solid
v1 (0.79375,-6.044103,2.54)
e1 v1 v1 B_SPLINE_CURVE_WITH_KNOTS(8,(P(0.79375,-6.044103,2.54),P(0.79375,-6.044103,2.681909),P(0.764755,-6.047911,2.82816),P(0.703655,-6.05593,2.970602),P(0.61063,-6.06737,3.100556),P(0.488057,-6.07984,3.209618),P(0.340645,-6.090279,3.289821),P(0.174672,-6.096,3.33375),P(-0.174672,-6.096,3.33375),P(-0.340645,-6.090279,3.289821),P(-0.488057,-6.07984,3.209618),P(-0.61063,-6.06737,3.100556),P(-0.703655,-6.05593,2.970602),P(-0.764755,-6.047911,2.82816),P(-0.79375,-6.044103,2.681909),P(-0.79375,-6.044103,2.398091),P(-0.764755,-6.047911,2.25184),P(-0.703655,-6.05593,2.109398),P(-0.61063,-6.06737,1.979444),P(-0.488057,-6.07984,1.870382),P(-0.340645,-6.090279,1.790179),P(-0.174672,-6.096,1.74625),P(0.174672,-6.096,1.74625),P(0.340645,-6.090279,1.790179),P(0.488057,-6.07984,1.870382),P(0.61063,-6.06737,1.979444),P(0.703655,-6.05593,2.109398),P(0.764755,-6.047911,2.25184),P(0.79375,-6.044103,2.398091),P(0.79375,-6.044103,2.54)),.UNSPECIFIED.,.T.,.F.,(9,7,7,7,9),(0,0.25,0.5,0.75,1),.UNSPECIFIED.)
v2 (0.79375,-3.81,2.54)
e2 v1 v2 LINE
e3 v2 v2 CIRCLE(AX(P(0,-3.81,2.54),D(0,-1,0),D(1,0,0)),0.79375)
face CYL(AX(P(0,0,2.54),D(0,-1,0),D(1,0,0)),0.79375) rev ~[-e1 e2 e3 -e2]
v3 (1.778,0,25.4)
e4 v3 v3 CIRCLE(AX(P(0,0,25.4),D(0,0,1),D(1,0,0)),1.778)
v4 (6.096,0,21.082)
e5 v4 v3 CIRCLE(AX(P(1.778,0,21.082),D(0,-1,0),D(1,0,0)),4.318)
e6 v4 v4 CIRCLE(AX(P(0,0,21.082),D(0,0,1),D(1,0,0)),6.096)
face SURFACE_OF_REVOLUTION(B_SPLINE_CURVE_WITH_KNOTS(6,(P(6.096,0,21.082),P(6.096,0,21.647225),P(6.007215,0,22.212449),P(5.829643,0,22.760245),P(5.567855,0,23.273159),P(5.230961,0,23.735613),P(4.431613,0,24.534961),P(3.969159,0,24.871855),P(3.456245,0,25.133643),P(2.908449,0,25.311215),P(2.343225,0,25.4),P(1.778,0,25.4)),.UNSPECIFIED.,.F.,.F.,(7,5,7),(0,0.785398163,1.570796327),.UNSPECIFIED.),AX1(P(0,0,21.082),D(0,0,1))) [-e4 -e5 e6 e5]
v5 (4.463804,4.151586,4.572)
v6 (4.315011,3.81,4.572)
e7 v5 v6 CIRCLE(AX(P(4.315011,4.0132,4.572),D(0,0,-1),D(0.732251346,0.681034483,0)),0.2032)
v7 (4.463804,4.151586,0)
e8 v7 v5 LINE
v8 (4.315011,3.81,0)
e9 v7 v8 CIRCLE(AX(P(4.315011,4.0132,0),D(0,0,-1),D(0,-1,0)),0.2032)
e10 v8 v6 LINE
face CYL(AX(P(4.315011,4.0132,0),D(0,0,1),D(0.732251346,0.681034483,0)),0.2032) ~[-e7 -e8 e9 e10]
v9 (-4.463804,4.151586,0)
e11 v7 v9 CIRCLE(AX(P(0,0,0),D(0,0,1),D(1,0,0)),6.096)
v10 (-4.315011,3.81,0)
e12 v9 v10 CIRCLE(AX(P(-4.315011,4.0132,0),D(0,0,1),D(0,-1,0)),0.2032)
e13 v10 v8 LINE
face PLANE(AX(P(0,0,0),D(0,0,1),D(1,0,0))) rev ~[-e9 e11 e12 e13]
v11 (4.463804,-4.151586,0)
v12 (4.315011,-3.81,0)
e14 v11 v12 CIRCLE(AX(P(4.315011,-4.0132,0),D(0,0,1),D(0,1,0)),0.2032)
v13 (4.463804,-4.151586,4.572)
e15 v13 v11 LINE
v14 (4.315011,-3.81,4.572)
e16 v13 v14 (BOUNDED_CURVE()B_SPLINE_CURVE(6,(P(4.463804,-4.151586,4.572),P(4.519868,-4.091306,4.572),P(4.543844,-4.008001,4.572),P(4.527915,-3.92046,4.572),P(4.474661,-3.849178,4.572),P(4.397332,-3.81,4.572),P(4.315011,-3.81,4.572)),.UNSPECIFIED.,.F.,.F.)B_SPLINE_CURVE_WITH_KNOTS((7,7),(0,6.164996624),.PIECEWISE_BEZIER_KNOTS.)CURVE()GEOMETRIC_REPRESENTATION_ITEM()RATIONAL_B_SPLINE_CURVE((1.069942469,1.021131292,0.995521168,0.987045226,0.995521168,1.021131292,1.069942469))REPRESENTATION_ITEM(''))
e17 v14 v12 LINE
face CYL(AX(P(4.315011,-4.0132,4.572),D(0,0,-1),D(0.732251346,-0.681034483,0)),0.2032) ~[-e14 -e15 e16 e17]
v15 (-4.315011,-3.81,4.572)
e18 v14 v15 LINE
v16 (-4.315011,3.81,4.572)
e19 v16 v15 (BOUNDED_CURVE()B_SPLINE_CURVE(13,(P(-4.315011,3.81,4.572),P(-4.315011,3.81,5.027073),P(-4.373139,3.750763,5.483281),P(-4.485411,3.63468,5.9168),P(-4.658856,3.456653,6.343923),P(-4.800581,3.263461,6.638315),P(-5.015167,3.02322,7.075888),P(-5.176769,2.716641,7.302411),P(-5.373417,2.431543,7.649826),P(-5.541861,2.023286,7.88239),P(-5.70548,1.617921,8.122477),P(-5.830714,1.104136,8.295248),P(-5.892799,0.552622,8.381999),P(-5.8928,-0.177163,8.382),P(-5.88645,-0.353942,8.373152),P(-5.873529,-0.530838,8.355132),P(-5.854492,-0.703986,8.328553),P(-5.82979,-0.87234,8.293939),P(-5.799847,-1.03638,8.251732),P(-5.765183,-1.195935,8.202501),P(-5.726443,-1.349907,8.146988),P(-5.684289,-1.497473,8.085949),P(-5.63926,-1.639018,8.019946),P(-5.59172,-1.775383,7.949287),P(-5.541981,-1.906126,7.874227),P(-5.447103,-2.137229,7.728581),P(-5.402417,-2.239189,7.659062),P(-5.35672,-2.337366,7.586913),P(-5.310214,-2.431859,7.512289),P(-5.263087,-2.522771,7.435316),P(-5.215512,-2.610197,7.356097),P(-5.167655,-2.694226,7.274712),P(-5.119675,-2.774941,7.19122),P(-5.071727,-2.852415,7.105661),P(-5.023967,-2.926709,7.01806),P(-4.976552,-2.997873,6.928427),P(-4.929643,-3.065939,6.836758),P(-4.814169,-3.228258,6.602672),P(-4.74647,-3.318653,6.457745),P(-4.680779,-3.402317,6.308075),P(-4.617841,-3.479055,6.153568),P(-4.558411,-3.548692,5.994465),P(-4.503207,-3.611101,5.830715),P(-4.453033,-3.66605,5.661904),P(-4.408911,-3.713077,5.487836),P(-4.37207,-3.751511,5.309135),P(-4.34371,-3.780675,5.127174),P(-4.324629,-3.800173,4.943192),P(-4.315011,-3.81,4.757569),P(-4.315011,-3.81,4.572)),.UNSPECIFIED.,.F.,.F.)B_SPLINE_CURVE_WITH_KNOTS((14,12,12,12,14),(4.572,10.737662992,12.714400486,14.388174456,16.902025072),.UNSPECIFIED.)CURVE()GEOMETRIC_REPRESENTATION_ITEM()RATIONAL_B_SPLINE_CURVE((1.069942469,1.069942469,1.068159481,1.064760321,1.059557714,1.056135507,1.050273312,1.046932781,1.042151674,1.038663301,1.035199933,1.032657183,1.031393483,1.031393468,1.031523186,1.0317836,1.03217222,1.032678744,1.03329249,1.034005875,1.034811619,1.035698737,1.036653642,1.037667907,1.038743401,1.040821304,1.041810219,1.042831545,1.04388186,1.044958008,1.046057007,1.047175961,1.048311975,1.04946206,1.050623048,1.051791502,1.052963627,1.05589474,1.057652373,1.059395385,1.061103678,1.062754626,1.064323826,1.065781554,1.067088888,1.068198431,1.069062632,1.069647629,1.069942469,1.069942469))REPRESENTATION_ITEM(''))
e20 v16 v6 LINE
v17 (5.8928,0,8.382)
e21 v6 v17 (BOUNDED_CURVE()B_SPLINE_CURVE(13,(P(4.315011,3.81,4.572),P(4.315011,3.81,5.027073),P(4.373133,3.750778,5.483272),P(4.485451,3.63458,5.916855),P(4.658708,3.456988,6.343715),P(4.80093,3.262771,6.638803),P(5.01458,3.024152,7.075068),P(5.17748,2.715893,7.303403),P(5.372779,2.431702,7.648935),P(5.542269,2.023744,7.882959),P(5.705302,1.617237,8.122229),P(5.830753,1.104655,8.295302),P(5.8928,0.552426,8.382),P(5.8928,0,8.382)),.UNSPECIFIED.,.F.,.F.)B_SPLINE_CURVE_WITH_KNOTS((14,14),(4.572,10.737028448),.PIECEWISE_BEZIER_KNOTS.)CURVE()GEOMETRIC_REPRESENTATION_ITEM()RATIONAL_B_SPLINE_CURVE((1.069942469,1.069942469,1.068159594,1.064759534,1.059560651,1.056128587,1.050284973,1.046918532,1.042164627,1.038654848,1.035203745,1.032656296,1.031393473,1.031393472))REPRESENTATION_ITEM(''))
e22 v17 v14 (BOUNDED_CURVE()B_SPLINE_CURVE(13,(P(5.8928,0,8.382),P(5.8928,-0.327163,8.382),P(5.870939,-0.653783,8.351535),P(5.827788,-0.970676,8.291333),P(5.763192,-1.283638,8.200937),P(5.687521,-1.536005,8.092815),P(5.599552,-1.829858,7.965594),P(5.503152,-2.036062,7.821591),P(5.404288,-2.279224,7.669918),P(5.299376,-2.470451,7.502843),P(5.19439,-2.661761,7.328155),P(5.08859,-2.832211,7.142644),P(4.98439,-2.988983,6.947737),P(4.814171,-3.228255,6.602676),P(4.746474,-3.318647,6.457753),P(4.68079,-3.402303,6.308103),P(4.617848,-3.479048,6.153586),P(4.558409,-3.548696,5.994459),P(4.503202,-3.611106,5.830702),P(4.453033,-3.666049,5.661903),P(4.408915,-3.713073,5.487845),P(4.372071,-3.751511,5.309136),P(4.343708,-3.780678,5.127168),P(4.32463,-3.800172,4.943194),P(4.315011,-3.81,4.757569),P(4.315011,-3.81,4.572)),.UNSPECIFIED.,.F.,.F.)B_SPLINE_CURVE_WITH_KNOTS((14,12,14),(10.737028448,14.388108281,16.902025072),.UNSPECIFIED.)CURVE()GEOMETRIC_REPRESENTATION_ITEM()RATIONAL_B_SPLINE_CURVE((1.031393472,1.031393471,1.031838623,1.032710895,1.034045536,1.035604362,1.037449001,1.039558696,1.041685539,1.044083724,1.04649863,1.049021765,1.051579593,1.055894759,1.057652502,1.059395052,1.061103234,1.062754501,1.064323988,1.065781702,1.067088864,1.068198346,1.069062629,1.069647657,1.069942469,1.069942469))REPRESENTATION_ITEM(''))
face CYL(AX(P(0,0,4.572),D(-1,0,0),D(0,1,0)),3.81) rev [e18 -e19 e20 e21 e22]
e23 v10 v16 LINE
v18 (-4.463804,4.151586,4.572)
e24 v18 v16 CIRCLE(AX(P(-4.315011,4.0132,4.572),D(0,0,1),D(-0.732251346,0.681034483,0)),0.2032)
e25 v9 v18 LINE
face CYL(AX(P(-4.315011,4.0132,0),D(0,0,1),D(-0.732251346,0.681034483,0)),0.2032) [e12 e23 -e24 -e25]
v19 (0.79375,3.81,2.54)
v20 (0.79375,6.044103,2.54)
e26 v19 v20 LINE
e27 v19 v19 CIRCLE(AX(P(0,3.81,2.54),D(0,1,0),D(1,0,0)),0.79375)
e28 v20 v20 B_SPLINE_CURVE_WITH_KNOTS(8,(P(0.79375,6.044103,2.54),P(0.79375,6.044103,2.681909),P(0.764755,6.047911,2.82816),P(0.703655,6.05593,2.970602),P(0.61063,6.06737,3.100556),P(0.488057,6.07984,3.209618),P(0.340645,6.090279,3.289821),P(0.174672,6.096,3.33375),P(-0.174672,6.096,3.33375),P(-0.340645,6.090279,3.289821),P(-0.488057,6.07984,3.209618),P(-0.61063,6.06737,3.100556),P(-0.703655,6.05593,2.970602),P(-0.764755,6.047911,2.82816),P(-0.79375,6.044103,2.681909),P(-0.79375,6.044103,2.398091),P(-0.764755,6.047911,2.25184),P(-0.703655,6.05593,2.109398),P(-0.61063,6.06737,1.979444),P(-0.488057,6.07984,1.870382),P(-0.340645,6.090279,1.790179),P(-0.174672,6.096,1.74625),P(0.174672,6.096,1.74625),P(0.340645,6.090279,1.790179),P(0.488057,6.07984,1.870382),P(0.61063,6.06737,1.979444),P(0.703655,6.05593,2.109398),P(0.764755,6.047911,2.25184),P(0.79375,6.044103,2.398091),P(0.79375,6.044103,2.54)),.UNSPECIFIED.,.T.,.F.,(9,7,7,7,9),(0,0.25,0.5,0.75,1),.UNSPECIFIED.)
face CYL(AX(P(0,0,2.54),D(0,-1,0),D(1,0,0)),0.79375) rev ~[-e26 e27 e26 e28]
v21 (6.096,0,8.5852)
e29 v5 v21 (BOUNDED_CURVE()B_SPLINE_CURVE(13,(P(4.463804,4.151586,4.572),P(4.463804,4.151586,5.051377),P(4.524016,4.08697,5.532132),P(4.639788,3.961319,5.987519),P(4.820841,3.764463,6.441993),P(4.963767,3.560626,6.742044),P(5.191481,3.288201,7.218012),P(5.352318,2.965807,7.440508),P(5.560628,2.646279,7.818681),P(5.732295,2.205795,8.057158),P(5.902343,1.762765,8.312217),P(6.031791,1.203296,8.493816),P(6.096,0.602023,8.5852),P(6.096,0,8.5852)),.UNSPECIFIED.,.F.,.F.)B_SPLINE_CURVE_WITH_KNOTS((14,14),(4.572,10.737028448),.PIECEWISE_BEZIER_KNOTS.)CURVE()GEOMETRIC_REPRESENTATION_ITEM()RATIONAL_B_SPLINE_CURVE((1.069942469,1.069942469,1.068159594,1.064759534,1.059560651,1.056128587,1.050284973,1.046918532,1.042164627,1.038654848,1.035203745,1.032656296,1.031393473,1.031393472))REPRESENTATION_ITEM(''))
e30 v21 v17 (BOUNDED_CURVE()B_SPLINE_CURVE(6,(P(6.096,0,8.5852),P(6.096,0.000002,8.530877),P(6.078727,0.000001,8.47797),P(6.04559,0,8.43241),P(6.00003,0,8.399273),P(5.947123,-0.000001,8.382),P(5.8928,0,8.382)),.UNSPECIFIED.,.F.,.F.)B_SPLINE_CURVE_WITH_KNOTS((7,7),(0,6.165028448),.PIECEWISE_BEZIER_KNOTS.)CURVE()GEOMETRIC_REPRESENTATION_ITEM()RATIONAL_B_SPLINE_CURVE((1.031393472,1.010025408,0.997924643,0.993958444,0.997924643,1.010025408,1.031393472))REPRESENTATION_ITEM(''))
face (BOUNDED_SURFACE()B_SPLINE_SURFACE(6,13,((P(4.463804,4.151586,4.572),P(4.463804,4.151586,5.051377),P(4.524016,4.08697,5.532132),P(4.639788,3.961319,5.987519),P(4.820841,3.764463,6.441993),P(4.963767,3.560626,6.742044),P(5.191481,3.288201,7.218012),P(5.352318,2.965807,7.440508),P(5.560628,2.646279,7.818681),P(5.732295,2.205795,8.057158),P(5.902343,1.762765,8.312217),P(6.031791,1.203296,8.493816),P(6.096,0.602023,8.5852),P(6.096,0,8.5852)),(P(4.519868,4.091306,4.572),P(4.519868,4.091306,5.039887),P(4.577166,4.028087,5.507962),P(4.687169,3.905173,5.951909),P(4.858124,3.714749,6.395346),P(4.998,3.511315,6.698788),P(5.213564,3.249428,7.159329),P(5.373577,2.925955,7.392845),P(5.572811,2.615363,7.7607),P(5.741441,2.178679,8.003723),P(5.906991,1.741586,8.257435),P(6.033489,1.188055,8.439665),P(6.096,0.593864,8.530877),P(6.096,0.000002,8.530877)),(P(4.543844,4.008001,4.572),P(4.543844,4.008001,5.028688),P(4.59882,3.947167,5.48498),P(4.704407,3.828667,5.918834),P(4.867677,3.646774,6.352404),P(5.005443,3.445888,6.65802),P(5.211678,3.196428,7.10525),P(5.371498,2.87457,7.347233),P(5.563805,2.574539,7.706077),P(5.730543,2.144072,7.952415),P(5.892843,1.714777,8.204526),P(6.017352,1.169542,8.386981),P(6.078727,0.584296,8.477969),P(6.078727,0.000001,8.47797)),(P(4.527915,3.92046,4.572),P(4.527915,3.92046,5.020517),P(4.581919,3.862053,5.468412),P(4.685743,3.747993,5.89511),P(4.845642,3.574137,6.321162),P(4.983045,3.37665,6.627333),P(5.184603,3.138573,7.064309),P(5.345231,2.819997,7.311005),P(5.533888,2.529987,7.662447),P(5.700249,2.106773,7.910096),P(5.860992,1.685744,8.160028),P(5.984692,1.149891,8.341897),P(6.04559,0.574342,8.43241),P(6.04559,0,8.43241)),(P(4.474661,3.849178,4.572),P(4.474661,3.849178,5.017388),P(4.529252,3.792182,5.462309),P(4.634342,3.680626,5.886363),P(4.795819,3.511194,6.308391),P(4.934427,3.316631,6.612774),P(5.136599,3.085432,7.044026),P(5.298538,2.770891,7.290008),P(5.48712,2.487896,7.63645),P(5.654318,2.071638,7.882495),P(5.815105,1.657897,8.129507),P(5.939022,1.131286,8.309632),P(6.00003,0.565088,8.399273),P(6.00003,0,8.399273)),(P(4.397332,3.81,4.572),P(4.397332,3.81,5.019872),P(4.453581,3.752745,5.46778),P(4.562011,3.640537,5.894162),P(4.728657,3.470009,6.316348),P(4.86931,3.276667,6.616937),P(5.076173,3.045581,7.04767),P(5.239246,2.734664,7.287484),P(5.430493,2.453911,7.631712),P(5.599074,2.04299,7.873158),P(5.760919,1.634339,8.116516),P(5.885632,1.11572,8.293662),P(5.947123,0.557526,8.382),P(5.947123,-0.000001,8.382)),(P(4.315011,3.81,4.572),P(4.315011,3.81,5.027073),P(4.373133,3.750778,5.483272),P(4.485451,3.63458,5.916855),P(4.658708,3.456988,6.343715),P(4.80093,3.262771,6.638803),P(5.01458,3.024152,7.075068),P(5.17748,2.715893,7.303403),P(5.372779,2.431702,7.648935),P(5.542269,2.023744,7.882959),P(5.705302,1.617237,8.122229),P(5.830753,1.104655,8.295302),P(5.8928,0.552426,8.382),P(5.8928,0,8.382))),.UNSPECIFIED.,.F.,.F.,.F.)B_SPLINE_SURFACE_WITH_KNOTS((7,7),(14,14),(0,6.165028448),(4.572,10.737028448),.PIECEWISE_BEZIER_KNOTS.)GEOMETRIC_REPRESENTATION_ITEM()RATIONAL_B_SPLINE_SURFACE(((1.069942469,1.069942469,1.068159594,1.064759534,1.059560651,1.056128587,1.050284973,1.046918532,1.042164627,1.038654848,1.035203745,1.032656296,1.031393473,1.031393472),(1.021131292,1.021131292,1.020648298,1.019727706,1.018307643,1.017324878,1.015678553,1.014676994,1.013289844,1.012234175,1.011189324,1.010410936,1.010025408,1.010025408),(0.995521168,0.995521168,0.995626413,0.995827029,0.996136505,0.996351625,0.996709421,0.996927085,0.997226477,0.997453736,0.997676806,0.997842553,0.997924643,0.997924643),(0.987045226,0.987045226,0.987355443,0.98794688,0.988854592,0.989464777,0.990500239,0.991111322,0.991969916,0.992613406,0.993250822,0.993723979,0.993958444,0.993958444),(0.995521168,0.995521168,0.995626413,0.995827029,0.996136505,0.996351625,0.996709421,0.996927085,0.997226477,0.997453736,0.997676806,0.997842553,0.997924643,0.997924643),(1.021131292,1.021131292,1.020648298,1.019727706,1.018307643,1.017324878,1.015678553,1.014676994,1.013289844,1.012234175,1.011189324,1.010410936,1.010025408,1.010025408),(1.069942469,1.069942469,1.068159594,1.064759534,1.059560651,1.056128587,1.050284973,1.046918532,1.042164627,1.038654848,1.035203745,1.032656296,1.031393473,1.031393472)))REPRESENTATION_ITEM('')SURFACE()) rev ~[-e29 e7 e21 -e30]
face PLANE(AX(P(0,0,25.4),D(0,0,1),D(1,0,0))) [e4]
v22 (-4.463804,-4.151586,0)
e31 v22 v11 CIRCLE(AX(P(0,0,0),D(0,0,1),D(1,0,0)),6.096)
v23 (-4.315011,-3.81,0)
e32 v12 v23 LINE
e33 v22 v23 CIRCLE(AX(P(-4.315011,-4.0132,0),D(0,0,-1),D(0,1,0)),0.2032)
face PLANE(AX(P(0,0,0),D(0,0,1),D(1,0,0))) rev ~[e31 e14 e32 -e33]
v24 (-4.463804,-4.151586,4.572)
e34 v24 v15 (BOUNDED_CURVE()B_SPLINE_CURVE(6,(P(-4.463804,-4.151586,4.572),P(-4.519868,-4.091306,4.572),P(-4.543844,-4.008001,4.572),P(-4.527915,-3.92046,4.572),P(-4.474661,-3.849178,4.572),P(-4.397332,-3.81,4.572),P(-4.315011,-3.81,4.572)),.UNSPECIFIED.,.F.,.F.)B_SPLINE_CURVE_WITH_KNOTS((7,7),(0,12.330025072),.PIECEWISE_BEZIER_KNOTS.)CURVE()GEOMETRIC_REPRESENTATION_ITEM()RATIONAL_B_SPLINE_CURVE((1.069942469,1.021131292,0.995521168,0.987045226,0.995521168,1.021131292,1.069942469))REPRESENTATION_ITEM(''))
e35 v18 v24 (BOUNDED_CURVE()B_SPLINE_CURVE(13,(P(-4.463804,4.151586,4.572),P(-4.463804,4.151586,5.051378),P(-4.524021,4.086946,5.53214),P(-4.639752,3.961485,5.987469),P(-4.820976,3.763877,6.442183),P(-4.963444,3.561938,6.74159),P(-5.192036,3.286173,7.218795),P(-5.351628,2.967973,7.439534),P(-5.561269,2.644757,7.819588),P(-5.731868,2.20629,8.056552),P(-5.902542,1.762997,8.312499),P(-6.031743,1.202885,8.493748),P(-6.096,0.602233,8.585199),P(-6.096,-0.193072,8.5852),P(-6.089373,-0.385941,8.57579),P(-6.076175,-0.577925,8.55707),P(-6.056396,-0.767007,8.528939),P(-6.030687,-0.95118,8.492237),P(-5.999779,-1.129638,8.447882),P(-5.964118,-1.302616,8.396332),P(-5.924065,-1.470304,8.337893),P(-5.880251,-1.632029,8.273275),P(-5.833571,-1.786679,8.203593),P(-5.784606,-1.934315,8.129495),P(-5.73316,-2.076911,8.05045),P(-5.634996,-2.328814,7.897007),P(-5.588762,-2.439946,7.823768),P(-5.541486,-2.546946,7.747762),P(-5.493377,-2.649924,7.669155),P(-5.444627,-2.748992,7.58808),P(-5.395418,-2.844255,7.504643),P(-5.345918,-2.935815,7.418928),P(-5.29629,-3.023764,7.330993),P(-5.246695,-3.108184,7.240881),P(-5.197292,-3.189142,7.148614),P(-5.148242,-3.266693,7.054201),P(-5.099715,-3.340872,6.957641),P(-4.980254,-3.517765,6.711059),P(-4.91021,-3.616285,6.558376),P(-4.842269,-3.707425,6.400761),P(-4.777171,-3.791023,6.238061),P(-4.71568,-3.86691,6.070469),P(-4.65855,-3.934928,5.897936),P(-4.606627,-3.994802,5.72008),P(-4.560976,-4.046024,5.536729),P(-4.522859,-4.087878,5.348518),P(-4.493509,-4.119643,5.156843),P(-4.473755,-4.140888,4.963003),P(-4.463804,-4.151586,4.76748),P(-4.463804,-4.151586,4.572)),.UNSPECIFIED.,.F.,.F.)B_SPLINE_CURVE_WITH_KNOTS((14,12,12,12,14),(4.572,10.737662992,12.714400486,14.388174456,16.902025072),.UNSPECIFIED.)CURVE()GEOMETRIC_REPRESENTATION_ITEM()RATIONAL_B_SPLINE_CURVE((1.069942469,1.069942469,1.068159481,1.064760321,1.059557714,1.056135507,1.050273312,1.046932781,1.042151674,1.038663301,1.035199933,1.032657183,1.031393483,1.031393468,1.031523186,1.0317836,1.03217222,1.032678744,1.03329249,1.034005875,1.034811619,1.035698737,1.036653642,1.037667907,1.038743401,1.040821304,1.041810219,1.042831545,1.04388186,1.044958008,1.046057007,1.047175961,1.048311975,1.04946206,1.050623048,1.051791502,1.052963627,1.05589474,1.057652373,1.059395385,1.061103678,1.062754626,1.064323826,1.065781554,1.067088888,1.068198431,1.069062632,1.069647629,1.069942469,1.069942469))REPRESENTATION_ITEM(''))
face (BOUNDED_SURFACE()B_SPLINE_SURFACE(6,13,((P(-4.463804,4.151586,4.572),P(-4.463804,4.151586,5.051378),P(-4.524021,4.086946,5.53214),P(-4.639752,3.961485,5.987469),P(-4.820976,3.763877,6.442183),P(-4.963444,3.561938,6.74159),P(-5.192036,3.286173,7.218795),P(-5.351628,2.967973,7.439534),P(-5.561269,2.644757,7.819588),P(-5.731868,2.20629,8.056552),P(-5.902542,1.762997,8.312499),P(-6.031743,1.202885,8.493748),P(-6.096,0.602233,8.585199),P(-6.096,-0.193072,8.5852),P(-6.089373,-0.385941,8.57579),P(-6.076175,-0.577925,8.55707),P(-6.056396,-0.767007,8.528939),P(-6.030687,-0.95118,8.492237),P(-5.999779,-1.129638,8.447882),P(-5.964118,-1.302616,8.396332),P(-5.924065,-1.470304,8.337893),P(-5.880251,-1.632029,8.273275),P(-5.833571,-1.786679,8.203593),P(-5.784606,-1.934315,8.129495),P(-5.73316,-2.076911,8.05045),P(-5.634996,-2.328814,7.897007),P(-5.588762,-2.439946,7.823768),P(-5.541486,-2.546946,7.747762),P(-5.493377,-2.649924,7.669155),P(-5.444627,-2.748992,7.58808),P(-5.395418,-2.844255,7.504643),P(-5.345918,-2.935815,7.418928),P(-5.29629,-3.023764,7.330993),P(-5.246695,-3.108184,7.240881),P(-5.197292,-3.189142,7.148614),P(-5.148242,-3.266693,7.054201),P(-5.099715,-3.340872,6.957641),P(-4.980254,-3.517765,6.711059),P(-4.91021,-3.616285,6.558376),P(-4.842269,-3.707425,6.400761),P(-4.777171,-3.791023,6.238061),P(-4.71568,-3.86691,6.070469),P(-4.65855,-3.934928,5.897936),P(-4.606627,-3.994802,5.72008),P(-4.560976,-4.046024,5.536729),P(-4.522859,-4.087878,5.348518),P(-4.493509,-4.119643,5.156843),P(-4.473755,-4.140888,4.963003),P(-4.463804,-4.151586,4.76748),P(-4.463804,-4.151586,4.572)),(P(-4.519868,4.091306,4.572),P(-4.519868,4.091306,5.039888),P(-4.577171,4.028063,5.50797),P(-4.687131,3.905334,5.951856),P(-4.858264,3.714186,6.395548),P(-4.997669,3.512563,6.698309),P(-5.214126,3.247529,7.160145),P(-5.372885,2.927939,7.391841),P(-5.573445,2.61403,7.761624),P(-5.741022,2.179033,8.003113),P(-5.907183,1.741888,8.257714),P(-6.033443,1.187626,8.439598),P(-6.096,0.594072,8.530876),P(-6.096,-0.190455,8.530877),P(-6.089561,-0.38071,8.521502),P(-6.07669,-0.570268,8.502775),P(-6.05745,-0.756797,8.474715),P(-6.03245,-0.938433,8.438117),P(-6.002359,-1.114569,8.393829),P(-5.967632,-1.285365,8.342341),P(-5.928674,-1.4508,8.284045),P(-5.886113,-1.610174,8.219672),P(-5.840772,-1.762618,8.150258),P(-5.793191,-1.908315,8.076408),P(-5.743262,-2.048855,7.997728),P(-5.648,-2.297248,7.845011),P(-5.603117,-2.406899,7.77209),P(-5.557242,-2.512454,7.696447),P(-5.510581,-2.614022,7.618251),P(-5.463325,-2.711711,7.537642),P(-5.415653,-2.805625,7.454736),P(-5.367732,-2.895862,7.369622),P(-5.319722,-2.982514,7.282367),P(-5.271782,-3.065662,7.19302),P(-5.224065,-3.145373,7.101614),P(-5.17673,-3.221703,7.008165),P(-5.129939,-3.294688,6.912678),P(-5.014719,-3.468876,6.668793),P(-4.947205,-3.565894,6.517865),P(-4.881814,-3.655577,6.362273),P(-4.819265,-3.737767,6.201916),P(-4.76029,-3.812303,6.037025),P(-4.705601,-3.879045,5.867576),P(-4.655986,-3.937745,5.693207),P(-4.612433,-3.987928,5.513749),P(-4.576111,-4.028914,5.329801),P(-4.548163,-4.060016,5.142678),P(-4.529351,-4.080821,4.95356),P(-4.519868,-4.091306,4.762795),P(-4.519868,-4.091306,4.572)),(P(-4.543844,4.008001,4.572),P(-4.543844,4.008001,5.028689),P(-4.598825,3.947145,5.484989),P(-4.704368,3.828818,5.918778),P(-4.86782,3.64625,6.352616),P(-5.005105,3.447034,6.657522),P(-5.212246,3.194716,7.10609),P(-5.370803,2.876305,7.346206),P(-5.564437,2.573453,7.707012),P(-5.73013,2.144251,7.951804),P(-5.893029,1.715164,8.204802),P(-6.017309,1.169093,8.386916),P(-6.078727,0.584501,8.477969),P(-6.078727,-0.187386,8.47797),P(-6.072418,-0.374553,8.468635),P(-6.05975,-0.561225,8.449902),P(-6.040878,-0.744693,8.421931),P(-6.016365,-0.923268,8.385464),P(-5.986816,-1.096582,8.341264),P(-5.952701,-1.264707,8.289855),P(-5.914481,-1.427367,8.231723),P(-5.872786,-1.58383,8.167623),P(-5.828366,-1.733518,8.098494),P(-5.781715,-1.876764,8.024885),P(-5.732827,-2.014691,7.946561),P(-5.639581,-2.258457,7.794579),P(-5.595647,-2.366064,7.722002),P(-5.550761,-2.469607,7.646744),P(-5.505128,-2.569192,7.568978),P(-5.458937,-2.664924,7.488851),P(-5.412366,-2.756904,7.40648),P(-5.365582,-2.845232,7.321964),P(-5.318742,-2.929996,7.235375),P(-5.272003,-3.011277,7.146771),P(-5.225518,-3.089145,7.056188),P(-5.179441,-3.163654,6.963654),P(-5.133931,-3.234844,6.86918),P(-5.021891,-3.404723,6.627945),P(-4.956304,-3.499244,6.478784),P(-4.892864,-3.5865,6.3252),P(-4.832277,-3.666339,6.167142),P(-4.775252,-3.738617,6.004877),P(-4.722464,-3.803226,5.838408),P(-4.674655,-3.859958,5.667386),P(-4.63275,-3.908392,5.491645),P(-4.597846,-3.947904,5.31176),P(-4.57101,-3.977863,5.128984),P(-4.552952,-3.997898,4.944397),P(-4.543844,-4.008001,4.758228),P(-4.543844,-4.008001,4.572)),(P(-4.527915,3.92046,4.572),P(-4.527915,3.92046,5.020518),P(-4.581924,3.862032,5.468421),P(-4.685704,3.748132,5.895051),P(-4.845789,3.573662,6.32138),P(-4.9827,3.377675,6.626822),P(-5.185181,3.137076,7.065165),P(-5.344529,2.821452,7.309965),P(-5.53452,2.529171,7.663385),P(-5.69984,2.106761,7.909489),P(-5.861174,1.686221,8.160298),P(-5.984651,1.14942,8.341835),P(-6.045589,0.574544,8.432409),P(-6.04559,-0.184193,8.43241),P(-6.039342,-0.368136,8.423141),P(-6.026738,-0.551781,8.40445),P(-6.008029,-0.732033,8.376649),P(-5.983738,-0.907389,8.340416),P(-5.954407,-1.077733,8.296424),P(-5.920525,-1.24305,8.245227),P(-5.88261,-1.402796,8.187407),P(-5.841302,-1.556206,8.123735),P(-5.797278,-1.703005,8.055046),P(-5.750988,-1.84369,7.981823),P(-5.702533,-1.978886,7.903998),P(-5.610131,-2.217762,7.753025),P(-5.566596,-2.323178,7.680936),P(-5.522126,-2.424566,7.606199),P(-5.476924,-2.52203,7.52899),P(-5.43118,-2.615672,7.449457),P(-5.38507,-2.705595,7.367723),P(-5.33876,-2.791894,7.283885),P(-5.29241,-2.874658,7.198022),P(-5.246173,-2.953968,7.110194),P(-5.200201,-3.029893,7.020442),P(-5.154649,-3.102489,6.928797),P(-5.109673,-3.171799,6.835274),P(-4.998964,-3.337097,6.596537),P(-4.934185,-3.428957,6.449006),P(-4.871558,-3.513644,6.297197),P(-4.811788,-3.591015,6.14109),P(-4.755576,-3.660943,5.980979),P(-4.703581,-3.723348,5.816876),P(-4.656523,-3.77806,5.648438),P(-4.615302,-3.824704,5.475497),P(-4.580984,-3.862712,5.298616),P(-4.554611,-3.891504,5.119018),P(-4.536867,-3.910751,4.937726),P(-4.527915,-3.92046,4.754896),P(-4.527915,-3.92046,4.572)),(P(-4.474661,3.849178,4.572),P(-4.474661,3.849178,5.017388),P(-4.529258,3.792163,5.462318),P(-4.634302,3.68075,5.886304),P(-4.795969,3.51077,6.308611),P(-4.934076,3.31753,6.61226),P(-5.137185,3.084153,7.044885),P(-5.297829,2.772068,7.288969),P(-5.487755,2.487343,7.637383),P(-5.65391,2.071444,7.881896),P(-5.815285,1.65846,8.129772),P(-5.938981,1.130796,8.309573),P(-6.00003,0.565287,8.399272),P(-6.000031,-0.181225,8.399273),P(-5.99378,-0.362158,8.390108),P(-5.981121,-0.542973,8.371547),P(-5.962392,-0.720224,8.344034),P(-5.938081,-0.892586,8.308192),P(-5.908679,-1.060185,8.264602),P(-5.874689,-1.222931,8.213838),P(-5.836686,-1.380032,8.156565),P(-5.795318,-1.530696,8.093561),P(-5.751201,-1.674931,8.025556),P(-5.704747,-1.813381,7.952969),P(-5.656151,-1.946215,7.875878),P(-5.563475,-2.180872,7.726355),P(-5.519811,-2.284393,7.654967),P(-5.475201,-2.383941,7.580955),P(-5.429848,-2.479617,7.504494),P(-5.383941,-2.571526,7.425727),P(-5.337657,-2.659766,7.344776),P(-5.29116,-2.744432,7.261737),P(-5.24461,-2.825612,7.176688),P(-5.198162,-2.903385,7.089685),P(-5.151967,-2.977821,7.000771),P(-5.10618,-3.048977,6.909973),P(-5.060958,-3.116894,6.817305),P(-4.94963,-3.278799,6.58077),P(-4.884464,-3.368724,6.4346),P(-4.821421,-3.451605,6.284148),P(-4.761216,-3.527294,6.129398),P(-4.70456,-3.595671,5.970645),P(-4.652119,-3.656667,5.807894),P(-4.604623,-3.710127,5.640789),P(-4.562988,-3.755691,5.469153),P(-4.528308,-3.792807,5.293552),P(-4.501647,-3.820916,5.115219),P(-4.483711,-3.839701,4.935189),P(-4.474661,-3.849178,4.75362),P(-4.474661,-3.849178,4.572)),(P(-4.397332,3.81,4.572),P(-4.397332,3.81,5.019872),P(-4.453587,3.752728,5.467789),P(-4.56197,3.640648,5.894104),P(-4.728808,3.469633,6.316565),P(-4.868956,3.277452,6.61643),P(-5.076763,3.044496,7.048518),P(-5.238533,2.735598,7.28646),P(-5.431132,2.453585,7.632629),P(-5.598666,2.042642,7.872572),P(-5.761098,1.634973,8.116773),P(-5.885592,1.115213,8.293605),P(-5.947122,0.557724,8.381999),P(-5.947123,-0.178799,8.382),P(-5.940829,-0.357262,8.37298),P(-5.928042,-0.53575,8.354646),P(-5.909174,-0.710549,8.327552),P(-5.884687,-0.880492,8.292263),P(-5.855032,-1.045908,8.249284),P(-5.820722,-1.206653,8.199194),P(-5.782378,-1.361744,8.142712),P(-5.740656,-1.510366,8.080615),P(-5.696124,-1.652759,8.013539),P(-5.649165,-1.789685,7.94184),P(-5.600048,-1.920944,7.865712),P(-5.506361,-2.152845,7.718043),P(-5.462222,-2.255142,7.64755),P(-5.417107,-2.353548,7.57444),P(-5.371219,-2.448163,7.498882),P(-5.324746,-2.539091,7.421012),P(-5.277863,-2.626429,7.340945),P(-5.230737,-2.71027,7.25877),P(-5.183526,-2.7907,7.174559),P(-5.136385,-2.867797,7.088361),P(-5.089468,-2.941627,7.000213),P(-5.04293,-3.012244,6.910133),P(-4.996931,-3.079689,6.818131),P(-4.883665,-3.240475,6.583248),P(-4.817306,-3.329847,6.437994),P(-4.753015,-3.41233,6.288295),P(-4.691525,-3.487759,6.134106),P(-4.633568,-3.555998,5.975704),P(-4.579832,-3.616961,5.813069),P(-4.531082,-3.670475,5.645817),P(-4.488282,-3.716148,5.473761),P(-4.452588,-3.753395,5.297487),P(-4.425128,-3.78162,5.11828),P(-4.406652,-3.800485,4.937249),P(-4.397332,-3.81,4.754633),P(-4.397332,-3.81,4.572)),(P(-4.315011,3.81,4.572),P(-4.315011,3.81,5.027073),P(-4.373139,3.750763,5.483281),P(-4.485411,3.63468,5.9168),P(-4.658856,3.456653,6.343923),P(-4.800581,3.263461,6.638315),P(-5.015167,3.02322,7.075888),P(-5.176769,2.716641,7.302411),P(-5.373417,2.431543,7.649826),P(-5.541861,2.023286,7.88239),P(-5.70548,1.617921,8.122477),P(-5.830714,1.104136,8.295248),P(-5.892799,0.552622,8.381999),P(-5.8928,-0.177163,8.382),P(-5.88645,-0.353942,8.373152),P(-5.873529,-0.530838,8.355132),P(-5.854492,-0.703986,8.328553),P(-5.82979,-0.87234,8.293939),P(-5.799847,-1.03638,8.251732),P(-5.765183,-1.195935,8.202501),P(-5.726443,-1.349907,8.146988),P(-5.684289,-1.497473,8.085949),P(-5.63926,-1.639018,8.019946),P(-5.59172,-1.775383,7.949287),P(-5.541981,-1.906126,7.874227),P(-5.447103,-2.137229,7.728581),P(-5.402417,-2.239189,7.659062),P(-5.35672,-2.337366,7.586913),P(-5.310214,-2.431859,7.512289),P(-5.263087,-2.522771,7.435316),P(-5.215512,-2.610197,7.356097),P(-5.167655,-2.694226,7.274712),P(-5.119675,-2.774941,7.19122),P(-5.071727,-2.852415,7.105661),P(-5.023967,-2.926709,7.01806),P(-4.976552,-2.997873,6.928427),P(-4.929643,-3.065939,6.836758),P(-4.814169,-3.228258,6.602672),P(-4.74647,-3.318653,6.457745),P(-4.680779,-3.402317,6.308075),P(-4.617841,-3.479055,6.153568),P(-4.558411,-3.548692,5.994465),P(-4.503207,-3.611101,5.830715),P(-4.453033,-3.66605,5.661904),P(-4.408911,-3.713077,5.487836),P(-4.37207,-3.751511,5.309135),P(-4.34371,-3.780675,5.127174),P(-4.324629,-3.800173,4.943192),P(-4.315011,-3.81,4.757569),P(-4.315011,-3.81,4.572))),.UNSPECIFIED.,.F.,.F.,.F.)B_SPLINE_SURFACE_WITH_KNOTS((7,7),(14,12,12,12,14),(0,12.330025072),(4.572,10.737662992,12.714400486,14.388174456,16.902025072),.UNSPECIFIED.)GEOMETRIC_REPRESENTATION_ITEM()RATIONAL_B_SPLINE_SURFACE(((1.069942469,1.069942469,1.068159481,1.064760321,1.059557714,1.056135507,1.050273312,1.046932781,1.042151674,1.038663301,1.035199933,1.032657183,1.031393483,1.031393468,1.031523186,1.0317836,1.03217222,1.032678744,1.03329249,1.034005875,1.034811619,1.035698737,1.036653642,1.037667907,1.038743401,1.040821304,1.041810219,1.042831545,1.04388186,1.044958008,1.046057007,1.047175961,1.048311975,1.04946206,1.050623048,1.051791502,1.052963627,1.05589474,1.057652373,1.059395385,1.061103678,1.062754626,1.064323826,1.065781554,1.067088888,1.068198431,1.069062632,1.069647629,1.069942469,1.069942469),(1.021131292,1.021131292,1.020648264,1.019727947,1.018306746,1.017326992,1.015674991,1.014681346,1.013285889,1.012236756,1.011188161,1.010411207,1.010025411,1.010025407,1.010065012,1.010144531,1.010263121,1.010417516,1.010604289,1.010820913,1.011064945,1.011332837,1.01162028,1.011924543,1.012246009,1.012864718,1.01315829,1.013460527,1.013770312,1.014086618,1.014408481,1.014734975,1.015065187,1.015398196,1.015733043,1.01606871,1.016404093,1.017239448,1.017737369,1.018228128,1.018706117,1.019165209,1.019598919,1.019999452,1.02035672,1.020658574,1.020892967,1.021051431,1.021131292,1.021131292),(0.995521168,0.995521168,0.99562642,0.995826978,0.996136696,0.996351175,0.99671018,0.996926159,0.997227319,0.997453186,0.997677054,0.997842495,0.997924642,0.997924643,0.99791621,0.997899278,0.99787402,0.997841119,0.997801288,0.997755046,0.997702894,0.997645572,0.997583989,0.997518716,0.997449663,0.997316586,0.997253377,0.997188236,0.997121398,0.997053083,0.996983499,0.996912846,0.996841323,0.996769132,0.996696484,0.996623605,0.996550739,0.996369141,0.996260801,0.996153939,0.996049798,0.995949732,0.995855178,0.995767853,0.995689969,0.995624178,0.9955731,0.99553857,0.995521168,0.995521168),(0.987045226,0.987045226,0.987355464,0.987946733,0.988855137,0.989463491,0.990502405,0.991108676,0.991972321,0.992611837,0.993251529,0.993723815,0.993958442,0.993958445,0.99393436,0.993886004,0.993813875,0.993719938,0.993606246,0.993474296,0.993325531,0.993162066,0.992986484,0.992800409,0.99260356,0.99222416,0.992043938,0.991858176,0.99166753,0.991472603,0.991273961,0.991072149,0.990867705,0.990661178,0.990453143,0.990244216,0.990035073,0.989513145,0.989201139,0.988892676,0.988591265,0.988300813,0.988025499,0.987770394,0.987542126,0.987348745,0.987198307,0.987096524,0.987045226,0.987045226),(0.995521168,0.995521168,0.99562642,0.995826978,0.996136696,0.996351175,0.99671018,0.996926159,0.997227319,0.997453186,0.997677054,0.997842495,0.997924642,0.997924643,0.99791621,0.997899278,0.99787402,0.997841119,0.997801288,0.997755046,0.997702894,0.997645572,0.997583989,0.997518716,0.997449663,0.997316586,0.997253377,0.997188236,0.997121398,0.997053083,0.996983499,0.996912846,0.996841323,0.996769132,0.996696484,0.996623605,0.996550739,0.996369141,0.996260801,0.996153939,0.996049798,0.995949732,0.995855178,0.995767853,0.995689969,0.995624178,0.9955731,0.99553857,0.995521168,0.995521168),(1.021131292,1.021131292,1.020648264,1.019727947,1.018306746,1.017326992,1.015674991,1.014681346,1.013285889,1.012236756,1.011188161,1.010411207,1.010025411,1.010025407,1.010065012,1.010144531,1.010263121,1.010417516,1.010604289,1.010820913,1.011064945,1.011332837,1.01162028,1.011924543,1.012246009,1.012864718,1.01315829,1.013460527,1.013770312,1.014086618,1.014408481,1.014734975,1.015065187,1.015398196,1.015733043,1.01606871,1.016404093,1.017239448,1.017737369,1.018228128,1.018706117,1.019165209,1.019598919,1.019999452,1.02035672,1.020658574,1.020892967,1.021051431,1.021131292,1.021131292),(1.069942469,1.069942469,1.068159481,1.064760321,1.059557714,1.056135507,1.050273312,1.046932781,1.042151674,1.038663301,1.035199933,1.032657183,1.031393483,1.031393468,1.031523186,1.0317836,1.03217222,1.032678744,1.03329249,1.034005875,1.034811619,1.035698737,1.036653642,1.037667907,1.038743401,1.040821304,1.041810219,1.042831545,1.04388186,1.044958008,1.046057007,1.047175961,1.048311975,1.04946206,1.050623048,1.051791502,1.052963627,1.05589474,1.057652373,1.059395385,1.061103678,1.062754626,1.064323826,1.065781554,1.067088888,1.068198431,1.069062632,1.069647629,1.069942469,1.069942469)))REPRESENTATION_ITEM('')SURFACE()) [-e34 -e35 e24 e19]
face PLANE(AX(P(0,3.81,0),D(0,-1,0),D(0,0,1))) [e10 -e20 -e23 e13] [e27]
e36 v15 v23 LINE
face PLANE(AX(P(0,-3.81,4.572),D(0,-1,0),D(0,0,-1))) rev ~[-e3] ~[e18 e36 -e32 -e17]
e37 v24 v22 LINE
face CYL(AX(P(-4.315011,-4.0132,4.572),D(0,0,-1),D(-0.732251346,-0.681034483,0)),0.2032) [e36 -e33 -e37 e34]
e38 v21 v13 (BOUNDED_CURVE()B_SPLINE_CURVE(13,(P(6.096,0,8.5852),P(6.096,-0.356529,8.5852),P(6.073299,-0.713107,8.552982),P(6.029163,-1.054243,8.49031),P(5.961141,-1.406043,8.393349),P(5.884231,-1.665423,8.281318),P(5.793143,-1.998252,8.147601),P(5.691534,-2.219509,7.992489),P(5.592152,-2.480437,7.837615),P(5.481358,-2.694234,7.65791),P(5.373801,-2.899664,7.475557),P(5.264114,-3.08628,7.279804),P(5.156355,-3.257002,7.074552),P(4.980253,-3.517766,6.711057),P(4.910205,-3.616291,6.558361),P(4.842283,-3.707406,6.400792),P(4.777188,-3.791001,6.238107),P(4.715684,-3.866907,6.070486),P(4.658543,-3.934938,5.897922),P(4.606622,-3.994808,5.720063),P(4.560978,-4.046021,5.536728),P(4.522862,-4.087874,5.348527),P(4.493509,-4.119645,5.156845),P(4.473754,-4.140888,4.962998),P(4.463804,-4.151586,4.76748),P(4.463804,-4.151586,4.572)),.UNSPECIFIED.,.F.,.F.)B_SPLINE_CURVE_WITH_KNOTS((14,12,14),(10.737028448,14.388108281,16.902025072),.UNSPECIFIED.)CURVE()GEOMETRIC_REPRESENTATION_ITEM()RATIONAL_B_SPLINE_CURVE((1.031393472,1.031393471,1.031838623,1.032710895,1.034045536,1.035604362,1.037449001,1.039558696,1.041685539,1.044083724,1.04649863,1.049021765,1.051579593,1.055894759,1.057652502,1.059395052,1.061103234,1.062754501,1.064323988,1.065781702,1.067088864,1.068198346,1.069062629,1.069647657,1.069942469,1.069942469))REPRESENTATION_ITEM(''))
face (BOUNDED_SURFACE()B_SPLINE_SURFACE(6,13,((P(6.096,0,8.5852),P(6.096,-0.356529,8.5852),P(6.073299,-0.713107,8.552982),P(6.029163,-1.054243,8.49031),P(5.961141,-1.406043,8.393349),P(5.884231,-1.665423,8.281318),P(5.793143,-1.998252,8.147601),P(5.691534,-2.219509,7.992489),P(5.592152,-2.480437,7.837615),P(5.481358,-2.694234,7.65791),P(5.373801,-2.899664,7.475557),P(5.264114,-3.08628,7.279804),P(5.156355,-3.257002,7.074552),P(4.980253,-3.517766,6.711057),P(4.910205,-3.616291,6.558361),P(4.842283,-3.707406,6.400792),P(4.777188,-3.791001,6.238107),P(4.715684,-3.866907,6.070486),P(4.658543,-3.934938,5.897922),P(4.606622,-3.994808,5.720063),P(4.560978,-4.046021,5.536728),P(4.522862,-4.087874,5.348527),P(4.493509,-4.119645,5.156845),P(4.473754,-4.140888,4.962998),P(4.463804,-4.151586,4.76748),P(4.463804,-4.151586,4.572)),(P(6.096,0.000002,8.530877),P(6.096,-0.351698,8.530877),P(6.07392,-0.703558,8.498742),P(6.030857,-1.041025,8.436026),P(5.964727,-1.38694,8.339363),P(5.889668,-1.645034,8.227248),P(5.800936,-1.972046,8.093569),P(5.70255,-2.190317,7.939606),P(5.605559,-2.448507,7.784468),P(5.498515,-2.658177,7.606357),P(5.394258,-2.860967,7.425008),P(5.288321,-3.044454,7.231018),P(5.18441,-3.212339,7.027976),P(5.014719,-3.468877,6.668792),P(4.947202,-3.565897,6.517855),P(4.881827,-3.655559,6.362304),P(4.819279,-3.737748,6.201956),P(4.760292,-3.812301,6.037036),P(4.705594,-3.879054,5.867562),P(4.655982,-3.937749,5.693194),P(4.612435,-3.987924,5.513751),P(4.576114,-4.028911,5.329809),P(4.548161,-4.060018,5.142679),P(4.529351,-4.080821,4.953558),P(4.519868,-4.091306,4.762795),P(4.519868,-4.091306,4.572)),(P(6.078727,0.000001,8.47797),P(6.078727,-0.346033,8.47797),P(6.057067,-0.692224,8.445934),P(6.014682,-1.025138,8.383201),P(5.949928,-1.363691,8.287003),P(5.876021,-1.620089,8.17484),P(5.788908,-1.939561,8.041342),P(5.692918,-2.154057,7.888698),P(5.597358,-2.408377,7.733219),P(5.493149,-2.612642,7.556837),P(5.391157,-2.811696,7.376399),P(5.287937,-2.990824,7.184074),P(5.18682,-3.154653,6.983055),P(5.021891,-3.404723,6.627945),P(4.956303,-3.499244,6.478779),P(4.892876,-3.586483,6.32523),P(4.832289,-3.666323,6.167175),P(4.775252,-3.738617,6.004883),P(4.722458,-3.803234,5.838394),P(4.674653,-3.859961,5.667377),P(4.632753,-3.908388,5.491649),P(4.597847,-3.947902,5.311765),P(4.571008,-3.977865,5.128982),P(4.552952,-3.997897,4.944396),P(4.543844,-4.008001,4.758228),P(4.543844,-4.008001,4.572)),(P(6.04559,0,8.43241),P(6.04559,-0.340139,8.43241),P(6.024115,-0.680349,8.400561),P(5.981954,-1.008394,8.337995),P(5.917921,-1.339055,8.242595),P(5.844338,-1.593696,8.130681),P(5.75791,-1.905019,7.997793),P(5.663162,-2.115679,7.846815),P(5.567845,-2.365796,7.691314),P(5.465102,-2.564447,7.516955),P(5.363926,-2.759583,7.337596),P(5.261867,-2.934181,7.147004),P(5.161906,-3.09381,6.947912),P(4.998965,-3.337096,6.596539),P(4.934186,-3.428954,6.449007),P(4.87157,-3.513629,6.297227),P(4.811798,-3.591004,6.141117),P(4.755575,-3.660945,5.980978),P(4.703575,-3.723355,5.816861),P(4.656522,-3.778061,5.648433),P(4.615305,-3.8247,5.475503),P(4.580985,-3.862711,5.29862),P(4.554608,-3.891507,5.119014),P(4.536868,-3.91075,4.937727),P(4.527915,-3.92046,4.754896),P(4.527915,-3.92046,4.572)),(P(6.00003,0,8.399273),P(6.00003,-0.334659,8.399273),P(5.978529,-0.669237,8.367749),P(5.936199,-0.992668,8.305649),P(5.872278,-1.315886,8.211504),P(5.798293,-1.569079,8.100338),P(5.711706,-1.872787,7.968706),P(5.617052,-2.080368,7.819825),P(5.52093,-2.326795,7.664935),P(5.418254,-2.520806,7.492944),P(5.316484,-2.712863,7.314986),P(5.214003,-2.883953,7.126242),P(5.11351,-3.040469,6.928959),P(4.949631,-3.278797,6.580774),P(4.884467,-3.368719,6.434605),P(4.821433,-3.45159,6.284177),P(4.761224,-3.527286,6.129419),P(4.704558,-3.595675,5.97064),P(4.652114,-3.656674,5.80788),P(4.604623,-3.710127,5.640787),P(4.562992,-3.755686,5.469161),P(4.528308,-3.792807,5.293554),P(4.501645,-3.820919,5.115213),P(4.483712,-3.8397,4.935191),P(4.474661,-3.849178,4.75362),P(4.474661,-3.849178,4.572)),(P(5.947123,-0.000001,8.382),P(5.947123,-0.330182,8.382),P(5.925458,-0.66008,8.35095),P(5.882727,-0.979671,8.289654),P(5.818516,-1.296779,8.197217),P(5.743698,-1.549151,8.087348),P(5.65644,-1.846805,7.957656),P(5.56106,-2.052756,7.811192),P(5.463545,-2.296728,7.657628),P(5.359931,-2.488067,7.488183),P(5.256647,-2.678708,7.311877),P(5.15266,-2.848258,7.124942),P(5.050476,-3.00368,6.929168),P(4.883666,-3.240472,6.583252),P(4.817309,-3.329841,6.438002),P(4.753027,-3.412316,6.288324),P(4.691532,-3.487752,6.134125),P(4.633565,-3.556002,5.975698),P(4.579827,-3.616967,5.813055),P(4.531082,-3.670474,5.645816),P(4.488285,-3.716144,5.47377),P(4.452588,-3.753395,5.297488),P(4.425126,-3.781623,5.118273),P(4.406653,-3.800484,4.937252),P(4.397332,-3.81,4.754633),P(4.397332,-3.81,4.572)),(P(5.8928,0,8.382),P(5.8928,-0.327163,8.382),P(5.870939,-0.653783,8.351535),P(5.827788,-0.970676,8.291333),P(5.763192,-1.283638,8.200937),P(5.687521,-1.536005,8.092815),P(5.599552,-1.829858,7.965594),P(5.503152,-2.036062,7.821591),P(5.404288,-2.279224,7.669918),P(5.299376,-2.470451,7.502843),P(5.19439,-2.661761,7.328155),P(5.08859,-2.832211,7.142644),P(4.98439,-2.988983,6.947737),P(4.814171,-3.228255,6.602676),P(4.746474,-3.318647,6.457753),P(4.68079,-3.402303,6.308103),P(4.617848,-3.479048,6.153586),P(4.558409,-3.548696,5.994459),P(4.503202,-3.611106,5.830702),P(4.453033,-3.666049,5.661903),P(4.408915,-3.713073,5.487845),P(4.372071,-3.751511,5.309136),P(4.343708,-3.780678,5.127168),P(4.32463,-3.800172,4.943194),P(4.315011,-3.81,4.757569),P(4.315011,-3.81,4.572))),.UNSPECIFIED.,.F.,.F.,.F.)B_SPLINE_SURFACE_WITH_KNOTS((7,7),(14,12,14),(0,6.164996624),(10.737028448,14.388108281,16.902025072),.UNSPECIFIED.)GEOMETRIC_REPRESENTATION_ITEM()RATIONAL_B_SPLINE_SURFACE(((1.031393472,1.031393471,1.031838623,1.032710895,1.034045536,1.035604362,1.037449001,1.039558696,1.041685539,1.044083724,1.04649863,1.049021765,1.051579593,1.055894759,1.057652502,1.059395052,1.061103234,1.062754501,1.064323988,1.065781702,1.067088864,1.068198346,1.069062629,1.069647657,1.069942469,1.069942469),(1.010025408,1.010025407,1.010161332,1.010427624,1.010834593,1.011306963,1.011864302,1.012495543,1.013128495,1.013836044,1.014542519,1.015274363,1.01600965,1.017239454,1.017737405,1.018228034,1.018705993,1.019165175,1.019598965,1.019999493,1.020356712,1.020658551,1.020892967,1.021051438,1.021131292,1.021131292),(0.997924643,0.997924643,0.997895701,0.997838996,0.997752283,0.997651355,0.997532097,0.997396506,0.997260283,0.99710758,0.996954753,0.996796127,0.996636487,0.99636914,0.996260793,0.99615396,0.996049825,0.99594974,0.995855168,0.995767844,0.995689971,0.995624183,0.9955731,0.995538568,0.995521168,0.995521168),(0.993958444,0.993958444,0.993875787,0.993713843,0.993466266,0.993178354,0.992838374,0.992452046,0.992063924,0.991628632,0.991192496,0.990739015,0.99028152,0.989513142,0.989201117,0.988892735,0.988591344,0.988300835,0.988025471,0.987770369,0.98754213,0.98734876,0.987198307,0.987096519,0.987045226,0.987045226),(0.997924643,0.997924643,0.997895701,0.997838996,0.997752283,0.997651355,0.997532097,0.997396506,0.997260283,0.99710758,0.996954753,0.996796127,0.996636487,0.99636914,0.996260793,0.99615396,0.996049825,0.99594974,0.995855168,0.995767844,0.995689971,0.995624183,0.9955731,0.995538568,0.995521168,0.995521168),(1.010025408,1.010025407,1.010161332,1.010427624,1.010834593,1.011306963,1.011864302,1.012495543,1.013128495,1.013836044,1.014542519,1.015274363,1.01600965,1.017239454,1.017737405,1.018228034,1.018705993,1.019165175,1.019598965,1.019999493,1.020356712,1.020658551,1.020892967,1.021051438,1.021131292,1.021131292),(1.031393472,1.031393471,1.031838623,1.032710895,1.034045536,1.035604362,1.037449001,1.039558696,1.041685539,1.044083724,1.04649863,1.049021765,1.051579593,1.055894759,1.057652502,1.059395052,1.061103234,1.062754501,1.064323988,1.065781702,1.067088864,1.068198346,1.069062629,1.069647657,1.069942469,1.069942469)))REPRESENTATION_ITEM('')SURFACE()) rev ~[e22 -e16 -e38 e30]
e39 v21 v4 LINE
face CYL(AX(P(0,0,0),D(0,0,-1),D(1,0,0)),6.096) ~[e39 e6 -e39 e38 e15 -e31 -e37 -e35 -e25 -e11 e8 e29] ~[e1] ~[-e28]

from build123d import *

# Parameters (mm, degrees)
F0_R          = 6.096
F1_DEPTH      = 25.4
F2_R          = 4.318
F3_R          = 0.79375
F4_DEPTH      = 6.097
F4_DEPTH_BACK = 6.097
F6_DEPTH      = 6.0970001
F6_DEPTH_BACK = 6.0970001
F7_R          = 0.2032


with BuildPart() as f1:
    # F0 (on Top) → F1 (new body)
    with BuildSketch(Plane.XY):
        Circle(F0_R)
    extrude(amount=F1_DEPTH)

    # F2
    f2_edges = [f1.edges().sort_by_distance(p)[0] for p in [
        (-6.096, 0, 25.4),
    ]]
    fillet(f2_edges, radius=F2_R)

    # F3 (on Front) → F4 (cut, two sides)
    with BuildSketch(Plane.XZ) as f4_sk:
        with Locations((0, 2.54)):
            Circle(F3_R)
    extrude(amount=-F4_DEPTH, mode=Mode.SUBTRACT)
    extrude(f4_sk.sketch, amount=F4_DEPTH_BACK, mode=Mode.SUBTRACT)

    # F5 (on Right) → F6 (cut, two sides)
    with BuildSketch(Plane.YZ) as f6_sk:
        with BuildLine():
            Line((-3.81, 0), (0, 0))
            Line((0, 0), (3.81, 0))
            Line((3.81, 0), (3.81, 4.572))
            ThreePointArc((3.81, 4.572), (0, 8.382), (-3.81, 4.572))
            Line((-3.81, 4.572), (-3.81, 0))
        make_face()
    extrude(amount=-F6_DEPTH, mode=Mode.SUBTRACT)
    extrude(f6_sk.sketch, amount=F6_DEPTH_BACK, mode=Mode.SUBTRACT)

    # F7
    f7_edges = [f1.edges().sort_by_distance(p)[0] for p in [
        (-4.758688, -3.81, 2.286),
        (4.758688, -3.81, 2.286),
        (5.465335, 2.700246, 7.259894),
        (-6.096, 0, 8.382),
        (5.465335, -2.700246, 7.259894),
        (4.758688, 3.81, 2.286),
        (-4.758688, 3.81, 2.286),
    ]]
    fillet(f7_edges, radius=F7_R)


solid = f1.part
